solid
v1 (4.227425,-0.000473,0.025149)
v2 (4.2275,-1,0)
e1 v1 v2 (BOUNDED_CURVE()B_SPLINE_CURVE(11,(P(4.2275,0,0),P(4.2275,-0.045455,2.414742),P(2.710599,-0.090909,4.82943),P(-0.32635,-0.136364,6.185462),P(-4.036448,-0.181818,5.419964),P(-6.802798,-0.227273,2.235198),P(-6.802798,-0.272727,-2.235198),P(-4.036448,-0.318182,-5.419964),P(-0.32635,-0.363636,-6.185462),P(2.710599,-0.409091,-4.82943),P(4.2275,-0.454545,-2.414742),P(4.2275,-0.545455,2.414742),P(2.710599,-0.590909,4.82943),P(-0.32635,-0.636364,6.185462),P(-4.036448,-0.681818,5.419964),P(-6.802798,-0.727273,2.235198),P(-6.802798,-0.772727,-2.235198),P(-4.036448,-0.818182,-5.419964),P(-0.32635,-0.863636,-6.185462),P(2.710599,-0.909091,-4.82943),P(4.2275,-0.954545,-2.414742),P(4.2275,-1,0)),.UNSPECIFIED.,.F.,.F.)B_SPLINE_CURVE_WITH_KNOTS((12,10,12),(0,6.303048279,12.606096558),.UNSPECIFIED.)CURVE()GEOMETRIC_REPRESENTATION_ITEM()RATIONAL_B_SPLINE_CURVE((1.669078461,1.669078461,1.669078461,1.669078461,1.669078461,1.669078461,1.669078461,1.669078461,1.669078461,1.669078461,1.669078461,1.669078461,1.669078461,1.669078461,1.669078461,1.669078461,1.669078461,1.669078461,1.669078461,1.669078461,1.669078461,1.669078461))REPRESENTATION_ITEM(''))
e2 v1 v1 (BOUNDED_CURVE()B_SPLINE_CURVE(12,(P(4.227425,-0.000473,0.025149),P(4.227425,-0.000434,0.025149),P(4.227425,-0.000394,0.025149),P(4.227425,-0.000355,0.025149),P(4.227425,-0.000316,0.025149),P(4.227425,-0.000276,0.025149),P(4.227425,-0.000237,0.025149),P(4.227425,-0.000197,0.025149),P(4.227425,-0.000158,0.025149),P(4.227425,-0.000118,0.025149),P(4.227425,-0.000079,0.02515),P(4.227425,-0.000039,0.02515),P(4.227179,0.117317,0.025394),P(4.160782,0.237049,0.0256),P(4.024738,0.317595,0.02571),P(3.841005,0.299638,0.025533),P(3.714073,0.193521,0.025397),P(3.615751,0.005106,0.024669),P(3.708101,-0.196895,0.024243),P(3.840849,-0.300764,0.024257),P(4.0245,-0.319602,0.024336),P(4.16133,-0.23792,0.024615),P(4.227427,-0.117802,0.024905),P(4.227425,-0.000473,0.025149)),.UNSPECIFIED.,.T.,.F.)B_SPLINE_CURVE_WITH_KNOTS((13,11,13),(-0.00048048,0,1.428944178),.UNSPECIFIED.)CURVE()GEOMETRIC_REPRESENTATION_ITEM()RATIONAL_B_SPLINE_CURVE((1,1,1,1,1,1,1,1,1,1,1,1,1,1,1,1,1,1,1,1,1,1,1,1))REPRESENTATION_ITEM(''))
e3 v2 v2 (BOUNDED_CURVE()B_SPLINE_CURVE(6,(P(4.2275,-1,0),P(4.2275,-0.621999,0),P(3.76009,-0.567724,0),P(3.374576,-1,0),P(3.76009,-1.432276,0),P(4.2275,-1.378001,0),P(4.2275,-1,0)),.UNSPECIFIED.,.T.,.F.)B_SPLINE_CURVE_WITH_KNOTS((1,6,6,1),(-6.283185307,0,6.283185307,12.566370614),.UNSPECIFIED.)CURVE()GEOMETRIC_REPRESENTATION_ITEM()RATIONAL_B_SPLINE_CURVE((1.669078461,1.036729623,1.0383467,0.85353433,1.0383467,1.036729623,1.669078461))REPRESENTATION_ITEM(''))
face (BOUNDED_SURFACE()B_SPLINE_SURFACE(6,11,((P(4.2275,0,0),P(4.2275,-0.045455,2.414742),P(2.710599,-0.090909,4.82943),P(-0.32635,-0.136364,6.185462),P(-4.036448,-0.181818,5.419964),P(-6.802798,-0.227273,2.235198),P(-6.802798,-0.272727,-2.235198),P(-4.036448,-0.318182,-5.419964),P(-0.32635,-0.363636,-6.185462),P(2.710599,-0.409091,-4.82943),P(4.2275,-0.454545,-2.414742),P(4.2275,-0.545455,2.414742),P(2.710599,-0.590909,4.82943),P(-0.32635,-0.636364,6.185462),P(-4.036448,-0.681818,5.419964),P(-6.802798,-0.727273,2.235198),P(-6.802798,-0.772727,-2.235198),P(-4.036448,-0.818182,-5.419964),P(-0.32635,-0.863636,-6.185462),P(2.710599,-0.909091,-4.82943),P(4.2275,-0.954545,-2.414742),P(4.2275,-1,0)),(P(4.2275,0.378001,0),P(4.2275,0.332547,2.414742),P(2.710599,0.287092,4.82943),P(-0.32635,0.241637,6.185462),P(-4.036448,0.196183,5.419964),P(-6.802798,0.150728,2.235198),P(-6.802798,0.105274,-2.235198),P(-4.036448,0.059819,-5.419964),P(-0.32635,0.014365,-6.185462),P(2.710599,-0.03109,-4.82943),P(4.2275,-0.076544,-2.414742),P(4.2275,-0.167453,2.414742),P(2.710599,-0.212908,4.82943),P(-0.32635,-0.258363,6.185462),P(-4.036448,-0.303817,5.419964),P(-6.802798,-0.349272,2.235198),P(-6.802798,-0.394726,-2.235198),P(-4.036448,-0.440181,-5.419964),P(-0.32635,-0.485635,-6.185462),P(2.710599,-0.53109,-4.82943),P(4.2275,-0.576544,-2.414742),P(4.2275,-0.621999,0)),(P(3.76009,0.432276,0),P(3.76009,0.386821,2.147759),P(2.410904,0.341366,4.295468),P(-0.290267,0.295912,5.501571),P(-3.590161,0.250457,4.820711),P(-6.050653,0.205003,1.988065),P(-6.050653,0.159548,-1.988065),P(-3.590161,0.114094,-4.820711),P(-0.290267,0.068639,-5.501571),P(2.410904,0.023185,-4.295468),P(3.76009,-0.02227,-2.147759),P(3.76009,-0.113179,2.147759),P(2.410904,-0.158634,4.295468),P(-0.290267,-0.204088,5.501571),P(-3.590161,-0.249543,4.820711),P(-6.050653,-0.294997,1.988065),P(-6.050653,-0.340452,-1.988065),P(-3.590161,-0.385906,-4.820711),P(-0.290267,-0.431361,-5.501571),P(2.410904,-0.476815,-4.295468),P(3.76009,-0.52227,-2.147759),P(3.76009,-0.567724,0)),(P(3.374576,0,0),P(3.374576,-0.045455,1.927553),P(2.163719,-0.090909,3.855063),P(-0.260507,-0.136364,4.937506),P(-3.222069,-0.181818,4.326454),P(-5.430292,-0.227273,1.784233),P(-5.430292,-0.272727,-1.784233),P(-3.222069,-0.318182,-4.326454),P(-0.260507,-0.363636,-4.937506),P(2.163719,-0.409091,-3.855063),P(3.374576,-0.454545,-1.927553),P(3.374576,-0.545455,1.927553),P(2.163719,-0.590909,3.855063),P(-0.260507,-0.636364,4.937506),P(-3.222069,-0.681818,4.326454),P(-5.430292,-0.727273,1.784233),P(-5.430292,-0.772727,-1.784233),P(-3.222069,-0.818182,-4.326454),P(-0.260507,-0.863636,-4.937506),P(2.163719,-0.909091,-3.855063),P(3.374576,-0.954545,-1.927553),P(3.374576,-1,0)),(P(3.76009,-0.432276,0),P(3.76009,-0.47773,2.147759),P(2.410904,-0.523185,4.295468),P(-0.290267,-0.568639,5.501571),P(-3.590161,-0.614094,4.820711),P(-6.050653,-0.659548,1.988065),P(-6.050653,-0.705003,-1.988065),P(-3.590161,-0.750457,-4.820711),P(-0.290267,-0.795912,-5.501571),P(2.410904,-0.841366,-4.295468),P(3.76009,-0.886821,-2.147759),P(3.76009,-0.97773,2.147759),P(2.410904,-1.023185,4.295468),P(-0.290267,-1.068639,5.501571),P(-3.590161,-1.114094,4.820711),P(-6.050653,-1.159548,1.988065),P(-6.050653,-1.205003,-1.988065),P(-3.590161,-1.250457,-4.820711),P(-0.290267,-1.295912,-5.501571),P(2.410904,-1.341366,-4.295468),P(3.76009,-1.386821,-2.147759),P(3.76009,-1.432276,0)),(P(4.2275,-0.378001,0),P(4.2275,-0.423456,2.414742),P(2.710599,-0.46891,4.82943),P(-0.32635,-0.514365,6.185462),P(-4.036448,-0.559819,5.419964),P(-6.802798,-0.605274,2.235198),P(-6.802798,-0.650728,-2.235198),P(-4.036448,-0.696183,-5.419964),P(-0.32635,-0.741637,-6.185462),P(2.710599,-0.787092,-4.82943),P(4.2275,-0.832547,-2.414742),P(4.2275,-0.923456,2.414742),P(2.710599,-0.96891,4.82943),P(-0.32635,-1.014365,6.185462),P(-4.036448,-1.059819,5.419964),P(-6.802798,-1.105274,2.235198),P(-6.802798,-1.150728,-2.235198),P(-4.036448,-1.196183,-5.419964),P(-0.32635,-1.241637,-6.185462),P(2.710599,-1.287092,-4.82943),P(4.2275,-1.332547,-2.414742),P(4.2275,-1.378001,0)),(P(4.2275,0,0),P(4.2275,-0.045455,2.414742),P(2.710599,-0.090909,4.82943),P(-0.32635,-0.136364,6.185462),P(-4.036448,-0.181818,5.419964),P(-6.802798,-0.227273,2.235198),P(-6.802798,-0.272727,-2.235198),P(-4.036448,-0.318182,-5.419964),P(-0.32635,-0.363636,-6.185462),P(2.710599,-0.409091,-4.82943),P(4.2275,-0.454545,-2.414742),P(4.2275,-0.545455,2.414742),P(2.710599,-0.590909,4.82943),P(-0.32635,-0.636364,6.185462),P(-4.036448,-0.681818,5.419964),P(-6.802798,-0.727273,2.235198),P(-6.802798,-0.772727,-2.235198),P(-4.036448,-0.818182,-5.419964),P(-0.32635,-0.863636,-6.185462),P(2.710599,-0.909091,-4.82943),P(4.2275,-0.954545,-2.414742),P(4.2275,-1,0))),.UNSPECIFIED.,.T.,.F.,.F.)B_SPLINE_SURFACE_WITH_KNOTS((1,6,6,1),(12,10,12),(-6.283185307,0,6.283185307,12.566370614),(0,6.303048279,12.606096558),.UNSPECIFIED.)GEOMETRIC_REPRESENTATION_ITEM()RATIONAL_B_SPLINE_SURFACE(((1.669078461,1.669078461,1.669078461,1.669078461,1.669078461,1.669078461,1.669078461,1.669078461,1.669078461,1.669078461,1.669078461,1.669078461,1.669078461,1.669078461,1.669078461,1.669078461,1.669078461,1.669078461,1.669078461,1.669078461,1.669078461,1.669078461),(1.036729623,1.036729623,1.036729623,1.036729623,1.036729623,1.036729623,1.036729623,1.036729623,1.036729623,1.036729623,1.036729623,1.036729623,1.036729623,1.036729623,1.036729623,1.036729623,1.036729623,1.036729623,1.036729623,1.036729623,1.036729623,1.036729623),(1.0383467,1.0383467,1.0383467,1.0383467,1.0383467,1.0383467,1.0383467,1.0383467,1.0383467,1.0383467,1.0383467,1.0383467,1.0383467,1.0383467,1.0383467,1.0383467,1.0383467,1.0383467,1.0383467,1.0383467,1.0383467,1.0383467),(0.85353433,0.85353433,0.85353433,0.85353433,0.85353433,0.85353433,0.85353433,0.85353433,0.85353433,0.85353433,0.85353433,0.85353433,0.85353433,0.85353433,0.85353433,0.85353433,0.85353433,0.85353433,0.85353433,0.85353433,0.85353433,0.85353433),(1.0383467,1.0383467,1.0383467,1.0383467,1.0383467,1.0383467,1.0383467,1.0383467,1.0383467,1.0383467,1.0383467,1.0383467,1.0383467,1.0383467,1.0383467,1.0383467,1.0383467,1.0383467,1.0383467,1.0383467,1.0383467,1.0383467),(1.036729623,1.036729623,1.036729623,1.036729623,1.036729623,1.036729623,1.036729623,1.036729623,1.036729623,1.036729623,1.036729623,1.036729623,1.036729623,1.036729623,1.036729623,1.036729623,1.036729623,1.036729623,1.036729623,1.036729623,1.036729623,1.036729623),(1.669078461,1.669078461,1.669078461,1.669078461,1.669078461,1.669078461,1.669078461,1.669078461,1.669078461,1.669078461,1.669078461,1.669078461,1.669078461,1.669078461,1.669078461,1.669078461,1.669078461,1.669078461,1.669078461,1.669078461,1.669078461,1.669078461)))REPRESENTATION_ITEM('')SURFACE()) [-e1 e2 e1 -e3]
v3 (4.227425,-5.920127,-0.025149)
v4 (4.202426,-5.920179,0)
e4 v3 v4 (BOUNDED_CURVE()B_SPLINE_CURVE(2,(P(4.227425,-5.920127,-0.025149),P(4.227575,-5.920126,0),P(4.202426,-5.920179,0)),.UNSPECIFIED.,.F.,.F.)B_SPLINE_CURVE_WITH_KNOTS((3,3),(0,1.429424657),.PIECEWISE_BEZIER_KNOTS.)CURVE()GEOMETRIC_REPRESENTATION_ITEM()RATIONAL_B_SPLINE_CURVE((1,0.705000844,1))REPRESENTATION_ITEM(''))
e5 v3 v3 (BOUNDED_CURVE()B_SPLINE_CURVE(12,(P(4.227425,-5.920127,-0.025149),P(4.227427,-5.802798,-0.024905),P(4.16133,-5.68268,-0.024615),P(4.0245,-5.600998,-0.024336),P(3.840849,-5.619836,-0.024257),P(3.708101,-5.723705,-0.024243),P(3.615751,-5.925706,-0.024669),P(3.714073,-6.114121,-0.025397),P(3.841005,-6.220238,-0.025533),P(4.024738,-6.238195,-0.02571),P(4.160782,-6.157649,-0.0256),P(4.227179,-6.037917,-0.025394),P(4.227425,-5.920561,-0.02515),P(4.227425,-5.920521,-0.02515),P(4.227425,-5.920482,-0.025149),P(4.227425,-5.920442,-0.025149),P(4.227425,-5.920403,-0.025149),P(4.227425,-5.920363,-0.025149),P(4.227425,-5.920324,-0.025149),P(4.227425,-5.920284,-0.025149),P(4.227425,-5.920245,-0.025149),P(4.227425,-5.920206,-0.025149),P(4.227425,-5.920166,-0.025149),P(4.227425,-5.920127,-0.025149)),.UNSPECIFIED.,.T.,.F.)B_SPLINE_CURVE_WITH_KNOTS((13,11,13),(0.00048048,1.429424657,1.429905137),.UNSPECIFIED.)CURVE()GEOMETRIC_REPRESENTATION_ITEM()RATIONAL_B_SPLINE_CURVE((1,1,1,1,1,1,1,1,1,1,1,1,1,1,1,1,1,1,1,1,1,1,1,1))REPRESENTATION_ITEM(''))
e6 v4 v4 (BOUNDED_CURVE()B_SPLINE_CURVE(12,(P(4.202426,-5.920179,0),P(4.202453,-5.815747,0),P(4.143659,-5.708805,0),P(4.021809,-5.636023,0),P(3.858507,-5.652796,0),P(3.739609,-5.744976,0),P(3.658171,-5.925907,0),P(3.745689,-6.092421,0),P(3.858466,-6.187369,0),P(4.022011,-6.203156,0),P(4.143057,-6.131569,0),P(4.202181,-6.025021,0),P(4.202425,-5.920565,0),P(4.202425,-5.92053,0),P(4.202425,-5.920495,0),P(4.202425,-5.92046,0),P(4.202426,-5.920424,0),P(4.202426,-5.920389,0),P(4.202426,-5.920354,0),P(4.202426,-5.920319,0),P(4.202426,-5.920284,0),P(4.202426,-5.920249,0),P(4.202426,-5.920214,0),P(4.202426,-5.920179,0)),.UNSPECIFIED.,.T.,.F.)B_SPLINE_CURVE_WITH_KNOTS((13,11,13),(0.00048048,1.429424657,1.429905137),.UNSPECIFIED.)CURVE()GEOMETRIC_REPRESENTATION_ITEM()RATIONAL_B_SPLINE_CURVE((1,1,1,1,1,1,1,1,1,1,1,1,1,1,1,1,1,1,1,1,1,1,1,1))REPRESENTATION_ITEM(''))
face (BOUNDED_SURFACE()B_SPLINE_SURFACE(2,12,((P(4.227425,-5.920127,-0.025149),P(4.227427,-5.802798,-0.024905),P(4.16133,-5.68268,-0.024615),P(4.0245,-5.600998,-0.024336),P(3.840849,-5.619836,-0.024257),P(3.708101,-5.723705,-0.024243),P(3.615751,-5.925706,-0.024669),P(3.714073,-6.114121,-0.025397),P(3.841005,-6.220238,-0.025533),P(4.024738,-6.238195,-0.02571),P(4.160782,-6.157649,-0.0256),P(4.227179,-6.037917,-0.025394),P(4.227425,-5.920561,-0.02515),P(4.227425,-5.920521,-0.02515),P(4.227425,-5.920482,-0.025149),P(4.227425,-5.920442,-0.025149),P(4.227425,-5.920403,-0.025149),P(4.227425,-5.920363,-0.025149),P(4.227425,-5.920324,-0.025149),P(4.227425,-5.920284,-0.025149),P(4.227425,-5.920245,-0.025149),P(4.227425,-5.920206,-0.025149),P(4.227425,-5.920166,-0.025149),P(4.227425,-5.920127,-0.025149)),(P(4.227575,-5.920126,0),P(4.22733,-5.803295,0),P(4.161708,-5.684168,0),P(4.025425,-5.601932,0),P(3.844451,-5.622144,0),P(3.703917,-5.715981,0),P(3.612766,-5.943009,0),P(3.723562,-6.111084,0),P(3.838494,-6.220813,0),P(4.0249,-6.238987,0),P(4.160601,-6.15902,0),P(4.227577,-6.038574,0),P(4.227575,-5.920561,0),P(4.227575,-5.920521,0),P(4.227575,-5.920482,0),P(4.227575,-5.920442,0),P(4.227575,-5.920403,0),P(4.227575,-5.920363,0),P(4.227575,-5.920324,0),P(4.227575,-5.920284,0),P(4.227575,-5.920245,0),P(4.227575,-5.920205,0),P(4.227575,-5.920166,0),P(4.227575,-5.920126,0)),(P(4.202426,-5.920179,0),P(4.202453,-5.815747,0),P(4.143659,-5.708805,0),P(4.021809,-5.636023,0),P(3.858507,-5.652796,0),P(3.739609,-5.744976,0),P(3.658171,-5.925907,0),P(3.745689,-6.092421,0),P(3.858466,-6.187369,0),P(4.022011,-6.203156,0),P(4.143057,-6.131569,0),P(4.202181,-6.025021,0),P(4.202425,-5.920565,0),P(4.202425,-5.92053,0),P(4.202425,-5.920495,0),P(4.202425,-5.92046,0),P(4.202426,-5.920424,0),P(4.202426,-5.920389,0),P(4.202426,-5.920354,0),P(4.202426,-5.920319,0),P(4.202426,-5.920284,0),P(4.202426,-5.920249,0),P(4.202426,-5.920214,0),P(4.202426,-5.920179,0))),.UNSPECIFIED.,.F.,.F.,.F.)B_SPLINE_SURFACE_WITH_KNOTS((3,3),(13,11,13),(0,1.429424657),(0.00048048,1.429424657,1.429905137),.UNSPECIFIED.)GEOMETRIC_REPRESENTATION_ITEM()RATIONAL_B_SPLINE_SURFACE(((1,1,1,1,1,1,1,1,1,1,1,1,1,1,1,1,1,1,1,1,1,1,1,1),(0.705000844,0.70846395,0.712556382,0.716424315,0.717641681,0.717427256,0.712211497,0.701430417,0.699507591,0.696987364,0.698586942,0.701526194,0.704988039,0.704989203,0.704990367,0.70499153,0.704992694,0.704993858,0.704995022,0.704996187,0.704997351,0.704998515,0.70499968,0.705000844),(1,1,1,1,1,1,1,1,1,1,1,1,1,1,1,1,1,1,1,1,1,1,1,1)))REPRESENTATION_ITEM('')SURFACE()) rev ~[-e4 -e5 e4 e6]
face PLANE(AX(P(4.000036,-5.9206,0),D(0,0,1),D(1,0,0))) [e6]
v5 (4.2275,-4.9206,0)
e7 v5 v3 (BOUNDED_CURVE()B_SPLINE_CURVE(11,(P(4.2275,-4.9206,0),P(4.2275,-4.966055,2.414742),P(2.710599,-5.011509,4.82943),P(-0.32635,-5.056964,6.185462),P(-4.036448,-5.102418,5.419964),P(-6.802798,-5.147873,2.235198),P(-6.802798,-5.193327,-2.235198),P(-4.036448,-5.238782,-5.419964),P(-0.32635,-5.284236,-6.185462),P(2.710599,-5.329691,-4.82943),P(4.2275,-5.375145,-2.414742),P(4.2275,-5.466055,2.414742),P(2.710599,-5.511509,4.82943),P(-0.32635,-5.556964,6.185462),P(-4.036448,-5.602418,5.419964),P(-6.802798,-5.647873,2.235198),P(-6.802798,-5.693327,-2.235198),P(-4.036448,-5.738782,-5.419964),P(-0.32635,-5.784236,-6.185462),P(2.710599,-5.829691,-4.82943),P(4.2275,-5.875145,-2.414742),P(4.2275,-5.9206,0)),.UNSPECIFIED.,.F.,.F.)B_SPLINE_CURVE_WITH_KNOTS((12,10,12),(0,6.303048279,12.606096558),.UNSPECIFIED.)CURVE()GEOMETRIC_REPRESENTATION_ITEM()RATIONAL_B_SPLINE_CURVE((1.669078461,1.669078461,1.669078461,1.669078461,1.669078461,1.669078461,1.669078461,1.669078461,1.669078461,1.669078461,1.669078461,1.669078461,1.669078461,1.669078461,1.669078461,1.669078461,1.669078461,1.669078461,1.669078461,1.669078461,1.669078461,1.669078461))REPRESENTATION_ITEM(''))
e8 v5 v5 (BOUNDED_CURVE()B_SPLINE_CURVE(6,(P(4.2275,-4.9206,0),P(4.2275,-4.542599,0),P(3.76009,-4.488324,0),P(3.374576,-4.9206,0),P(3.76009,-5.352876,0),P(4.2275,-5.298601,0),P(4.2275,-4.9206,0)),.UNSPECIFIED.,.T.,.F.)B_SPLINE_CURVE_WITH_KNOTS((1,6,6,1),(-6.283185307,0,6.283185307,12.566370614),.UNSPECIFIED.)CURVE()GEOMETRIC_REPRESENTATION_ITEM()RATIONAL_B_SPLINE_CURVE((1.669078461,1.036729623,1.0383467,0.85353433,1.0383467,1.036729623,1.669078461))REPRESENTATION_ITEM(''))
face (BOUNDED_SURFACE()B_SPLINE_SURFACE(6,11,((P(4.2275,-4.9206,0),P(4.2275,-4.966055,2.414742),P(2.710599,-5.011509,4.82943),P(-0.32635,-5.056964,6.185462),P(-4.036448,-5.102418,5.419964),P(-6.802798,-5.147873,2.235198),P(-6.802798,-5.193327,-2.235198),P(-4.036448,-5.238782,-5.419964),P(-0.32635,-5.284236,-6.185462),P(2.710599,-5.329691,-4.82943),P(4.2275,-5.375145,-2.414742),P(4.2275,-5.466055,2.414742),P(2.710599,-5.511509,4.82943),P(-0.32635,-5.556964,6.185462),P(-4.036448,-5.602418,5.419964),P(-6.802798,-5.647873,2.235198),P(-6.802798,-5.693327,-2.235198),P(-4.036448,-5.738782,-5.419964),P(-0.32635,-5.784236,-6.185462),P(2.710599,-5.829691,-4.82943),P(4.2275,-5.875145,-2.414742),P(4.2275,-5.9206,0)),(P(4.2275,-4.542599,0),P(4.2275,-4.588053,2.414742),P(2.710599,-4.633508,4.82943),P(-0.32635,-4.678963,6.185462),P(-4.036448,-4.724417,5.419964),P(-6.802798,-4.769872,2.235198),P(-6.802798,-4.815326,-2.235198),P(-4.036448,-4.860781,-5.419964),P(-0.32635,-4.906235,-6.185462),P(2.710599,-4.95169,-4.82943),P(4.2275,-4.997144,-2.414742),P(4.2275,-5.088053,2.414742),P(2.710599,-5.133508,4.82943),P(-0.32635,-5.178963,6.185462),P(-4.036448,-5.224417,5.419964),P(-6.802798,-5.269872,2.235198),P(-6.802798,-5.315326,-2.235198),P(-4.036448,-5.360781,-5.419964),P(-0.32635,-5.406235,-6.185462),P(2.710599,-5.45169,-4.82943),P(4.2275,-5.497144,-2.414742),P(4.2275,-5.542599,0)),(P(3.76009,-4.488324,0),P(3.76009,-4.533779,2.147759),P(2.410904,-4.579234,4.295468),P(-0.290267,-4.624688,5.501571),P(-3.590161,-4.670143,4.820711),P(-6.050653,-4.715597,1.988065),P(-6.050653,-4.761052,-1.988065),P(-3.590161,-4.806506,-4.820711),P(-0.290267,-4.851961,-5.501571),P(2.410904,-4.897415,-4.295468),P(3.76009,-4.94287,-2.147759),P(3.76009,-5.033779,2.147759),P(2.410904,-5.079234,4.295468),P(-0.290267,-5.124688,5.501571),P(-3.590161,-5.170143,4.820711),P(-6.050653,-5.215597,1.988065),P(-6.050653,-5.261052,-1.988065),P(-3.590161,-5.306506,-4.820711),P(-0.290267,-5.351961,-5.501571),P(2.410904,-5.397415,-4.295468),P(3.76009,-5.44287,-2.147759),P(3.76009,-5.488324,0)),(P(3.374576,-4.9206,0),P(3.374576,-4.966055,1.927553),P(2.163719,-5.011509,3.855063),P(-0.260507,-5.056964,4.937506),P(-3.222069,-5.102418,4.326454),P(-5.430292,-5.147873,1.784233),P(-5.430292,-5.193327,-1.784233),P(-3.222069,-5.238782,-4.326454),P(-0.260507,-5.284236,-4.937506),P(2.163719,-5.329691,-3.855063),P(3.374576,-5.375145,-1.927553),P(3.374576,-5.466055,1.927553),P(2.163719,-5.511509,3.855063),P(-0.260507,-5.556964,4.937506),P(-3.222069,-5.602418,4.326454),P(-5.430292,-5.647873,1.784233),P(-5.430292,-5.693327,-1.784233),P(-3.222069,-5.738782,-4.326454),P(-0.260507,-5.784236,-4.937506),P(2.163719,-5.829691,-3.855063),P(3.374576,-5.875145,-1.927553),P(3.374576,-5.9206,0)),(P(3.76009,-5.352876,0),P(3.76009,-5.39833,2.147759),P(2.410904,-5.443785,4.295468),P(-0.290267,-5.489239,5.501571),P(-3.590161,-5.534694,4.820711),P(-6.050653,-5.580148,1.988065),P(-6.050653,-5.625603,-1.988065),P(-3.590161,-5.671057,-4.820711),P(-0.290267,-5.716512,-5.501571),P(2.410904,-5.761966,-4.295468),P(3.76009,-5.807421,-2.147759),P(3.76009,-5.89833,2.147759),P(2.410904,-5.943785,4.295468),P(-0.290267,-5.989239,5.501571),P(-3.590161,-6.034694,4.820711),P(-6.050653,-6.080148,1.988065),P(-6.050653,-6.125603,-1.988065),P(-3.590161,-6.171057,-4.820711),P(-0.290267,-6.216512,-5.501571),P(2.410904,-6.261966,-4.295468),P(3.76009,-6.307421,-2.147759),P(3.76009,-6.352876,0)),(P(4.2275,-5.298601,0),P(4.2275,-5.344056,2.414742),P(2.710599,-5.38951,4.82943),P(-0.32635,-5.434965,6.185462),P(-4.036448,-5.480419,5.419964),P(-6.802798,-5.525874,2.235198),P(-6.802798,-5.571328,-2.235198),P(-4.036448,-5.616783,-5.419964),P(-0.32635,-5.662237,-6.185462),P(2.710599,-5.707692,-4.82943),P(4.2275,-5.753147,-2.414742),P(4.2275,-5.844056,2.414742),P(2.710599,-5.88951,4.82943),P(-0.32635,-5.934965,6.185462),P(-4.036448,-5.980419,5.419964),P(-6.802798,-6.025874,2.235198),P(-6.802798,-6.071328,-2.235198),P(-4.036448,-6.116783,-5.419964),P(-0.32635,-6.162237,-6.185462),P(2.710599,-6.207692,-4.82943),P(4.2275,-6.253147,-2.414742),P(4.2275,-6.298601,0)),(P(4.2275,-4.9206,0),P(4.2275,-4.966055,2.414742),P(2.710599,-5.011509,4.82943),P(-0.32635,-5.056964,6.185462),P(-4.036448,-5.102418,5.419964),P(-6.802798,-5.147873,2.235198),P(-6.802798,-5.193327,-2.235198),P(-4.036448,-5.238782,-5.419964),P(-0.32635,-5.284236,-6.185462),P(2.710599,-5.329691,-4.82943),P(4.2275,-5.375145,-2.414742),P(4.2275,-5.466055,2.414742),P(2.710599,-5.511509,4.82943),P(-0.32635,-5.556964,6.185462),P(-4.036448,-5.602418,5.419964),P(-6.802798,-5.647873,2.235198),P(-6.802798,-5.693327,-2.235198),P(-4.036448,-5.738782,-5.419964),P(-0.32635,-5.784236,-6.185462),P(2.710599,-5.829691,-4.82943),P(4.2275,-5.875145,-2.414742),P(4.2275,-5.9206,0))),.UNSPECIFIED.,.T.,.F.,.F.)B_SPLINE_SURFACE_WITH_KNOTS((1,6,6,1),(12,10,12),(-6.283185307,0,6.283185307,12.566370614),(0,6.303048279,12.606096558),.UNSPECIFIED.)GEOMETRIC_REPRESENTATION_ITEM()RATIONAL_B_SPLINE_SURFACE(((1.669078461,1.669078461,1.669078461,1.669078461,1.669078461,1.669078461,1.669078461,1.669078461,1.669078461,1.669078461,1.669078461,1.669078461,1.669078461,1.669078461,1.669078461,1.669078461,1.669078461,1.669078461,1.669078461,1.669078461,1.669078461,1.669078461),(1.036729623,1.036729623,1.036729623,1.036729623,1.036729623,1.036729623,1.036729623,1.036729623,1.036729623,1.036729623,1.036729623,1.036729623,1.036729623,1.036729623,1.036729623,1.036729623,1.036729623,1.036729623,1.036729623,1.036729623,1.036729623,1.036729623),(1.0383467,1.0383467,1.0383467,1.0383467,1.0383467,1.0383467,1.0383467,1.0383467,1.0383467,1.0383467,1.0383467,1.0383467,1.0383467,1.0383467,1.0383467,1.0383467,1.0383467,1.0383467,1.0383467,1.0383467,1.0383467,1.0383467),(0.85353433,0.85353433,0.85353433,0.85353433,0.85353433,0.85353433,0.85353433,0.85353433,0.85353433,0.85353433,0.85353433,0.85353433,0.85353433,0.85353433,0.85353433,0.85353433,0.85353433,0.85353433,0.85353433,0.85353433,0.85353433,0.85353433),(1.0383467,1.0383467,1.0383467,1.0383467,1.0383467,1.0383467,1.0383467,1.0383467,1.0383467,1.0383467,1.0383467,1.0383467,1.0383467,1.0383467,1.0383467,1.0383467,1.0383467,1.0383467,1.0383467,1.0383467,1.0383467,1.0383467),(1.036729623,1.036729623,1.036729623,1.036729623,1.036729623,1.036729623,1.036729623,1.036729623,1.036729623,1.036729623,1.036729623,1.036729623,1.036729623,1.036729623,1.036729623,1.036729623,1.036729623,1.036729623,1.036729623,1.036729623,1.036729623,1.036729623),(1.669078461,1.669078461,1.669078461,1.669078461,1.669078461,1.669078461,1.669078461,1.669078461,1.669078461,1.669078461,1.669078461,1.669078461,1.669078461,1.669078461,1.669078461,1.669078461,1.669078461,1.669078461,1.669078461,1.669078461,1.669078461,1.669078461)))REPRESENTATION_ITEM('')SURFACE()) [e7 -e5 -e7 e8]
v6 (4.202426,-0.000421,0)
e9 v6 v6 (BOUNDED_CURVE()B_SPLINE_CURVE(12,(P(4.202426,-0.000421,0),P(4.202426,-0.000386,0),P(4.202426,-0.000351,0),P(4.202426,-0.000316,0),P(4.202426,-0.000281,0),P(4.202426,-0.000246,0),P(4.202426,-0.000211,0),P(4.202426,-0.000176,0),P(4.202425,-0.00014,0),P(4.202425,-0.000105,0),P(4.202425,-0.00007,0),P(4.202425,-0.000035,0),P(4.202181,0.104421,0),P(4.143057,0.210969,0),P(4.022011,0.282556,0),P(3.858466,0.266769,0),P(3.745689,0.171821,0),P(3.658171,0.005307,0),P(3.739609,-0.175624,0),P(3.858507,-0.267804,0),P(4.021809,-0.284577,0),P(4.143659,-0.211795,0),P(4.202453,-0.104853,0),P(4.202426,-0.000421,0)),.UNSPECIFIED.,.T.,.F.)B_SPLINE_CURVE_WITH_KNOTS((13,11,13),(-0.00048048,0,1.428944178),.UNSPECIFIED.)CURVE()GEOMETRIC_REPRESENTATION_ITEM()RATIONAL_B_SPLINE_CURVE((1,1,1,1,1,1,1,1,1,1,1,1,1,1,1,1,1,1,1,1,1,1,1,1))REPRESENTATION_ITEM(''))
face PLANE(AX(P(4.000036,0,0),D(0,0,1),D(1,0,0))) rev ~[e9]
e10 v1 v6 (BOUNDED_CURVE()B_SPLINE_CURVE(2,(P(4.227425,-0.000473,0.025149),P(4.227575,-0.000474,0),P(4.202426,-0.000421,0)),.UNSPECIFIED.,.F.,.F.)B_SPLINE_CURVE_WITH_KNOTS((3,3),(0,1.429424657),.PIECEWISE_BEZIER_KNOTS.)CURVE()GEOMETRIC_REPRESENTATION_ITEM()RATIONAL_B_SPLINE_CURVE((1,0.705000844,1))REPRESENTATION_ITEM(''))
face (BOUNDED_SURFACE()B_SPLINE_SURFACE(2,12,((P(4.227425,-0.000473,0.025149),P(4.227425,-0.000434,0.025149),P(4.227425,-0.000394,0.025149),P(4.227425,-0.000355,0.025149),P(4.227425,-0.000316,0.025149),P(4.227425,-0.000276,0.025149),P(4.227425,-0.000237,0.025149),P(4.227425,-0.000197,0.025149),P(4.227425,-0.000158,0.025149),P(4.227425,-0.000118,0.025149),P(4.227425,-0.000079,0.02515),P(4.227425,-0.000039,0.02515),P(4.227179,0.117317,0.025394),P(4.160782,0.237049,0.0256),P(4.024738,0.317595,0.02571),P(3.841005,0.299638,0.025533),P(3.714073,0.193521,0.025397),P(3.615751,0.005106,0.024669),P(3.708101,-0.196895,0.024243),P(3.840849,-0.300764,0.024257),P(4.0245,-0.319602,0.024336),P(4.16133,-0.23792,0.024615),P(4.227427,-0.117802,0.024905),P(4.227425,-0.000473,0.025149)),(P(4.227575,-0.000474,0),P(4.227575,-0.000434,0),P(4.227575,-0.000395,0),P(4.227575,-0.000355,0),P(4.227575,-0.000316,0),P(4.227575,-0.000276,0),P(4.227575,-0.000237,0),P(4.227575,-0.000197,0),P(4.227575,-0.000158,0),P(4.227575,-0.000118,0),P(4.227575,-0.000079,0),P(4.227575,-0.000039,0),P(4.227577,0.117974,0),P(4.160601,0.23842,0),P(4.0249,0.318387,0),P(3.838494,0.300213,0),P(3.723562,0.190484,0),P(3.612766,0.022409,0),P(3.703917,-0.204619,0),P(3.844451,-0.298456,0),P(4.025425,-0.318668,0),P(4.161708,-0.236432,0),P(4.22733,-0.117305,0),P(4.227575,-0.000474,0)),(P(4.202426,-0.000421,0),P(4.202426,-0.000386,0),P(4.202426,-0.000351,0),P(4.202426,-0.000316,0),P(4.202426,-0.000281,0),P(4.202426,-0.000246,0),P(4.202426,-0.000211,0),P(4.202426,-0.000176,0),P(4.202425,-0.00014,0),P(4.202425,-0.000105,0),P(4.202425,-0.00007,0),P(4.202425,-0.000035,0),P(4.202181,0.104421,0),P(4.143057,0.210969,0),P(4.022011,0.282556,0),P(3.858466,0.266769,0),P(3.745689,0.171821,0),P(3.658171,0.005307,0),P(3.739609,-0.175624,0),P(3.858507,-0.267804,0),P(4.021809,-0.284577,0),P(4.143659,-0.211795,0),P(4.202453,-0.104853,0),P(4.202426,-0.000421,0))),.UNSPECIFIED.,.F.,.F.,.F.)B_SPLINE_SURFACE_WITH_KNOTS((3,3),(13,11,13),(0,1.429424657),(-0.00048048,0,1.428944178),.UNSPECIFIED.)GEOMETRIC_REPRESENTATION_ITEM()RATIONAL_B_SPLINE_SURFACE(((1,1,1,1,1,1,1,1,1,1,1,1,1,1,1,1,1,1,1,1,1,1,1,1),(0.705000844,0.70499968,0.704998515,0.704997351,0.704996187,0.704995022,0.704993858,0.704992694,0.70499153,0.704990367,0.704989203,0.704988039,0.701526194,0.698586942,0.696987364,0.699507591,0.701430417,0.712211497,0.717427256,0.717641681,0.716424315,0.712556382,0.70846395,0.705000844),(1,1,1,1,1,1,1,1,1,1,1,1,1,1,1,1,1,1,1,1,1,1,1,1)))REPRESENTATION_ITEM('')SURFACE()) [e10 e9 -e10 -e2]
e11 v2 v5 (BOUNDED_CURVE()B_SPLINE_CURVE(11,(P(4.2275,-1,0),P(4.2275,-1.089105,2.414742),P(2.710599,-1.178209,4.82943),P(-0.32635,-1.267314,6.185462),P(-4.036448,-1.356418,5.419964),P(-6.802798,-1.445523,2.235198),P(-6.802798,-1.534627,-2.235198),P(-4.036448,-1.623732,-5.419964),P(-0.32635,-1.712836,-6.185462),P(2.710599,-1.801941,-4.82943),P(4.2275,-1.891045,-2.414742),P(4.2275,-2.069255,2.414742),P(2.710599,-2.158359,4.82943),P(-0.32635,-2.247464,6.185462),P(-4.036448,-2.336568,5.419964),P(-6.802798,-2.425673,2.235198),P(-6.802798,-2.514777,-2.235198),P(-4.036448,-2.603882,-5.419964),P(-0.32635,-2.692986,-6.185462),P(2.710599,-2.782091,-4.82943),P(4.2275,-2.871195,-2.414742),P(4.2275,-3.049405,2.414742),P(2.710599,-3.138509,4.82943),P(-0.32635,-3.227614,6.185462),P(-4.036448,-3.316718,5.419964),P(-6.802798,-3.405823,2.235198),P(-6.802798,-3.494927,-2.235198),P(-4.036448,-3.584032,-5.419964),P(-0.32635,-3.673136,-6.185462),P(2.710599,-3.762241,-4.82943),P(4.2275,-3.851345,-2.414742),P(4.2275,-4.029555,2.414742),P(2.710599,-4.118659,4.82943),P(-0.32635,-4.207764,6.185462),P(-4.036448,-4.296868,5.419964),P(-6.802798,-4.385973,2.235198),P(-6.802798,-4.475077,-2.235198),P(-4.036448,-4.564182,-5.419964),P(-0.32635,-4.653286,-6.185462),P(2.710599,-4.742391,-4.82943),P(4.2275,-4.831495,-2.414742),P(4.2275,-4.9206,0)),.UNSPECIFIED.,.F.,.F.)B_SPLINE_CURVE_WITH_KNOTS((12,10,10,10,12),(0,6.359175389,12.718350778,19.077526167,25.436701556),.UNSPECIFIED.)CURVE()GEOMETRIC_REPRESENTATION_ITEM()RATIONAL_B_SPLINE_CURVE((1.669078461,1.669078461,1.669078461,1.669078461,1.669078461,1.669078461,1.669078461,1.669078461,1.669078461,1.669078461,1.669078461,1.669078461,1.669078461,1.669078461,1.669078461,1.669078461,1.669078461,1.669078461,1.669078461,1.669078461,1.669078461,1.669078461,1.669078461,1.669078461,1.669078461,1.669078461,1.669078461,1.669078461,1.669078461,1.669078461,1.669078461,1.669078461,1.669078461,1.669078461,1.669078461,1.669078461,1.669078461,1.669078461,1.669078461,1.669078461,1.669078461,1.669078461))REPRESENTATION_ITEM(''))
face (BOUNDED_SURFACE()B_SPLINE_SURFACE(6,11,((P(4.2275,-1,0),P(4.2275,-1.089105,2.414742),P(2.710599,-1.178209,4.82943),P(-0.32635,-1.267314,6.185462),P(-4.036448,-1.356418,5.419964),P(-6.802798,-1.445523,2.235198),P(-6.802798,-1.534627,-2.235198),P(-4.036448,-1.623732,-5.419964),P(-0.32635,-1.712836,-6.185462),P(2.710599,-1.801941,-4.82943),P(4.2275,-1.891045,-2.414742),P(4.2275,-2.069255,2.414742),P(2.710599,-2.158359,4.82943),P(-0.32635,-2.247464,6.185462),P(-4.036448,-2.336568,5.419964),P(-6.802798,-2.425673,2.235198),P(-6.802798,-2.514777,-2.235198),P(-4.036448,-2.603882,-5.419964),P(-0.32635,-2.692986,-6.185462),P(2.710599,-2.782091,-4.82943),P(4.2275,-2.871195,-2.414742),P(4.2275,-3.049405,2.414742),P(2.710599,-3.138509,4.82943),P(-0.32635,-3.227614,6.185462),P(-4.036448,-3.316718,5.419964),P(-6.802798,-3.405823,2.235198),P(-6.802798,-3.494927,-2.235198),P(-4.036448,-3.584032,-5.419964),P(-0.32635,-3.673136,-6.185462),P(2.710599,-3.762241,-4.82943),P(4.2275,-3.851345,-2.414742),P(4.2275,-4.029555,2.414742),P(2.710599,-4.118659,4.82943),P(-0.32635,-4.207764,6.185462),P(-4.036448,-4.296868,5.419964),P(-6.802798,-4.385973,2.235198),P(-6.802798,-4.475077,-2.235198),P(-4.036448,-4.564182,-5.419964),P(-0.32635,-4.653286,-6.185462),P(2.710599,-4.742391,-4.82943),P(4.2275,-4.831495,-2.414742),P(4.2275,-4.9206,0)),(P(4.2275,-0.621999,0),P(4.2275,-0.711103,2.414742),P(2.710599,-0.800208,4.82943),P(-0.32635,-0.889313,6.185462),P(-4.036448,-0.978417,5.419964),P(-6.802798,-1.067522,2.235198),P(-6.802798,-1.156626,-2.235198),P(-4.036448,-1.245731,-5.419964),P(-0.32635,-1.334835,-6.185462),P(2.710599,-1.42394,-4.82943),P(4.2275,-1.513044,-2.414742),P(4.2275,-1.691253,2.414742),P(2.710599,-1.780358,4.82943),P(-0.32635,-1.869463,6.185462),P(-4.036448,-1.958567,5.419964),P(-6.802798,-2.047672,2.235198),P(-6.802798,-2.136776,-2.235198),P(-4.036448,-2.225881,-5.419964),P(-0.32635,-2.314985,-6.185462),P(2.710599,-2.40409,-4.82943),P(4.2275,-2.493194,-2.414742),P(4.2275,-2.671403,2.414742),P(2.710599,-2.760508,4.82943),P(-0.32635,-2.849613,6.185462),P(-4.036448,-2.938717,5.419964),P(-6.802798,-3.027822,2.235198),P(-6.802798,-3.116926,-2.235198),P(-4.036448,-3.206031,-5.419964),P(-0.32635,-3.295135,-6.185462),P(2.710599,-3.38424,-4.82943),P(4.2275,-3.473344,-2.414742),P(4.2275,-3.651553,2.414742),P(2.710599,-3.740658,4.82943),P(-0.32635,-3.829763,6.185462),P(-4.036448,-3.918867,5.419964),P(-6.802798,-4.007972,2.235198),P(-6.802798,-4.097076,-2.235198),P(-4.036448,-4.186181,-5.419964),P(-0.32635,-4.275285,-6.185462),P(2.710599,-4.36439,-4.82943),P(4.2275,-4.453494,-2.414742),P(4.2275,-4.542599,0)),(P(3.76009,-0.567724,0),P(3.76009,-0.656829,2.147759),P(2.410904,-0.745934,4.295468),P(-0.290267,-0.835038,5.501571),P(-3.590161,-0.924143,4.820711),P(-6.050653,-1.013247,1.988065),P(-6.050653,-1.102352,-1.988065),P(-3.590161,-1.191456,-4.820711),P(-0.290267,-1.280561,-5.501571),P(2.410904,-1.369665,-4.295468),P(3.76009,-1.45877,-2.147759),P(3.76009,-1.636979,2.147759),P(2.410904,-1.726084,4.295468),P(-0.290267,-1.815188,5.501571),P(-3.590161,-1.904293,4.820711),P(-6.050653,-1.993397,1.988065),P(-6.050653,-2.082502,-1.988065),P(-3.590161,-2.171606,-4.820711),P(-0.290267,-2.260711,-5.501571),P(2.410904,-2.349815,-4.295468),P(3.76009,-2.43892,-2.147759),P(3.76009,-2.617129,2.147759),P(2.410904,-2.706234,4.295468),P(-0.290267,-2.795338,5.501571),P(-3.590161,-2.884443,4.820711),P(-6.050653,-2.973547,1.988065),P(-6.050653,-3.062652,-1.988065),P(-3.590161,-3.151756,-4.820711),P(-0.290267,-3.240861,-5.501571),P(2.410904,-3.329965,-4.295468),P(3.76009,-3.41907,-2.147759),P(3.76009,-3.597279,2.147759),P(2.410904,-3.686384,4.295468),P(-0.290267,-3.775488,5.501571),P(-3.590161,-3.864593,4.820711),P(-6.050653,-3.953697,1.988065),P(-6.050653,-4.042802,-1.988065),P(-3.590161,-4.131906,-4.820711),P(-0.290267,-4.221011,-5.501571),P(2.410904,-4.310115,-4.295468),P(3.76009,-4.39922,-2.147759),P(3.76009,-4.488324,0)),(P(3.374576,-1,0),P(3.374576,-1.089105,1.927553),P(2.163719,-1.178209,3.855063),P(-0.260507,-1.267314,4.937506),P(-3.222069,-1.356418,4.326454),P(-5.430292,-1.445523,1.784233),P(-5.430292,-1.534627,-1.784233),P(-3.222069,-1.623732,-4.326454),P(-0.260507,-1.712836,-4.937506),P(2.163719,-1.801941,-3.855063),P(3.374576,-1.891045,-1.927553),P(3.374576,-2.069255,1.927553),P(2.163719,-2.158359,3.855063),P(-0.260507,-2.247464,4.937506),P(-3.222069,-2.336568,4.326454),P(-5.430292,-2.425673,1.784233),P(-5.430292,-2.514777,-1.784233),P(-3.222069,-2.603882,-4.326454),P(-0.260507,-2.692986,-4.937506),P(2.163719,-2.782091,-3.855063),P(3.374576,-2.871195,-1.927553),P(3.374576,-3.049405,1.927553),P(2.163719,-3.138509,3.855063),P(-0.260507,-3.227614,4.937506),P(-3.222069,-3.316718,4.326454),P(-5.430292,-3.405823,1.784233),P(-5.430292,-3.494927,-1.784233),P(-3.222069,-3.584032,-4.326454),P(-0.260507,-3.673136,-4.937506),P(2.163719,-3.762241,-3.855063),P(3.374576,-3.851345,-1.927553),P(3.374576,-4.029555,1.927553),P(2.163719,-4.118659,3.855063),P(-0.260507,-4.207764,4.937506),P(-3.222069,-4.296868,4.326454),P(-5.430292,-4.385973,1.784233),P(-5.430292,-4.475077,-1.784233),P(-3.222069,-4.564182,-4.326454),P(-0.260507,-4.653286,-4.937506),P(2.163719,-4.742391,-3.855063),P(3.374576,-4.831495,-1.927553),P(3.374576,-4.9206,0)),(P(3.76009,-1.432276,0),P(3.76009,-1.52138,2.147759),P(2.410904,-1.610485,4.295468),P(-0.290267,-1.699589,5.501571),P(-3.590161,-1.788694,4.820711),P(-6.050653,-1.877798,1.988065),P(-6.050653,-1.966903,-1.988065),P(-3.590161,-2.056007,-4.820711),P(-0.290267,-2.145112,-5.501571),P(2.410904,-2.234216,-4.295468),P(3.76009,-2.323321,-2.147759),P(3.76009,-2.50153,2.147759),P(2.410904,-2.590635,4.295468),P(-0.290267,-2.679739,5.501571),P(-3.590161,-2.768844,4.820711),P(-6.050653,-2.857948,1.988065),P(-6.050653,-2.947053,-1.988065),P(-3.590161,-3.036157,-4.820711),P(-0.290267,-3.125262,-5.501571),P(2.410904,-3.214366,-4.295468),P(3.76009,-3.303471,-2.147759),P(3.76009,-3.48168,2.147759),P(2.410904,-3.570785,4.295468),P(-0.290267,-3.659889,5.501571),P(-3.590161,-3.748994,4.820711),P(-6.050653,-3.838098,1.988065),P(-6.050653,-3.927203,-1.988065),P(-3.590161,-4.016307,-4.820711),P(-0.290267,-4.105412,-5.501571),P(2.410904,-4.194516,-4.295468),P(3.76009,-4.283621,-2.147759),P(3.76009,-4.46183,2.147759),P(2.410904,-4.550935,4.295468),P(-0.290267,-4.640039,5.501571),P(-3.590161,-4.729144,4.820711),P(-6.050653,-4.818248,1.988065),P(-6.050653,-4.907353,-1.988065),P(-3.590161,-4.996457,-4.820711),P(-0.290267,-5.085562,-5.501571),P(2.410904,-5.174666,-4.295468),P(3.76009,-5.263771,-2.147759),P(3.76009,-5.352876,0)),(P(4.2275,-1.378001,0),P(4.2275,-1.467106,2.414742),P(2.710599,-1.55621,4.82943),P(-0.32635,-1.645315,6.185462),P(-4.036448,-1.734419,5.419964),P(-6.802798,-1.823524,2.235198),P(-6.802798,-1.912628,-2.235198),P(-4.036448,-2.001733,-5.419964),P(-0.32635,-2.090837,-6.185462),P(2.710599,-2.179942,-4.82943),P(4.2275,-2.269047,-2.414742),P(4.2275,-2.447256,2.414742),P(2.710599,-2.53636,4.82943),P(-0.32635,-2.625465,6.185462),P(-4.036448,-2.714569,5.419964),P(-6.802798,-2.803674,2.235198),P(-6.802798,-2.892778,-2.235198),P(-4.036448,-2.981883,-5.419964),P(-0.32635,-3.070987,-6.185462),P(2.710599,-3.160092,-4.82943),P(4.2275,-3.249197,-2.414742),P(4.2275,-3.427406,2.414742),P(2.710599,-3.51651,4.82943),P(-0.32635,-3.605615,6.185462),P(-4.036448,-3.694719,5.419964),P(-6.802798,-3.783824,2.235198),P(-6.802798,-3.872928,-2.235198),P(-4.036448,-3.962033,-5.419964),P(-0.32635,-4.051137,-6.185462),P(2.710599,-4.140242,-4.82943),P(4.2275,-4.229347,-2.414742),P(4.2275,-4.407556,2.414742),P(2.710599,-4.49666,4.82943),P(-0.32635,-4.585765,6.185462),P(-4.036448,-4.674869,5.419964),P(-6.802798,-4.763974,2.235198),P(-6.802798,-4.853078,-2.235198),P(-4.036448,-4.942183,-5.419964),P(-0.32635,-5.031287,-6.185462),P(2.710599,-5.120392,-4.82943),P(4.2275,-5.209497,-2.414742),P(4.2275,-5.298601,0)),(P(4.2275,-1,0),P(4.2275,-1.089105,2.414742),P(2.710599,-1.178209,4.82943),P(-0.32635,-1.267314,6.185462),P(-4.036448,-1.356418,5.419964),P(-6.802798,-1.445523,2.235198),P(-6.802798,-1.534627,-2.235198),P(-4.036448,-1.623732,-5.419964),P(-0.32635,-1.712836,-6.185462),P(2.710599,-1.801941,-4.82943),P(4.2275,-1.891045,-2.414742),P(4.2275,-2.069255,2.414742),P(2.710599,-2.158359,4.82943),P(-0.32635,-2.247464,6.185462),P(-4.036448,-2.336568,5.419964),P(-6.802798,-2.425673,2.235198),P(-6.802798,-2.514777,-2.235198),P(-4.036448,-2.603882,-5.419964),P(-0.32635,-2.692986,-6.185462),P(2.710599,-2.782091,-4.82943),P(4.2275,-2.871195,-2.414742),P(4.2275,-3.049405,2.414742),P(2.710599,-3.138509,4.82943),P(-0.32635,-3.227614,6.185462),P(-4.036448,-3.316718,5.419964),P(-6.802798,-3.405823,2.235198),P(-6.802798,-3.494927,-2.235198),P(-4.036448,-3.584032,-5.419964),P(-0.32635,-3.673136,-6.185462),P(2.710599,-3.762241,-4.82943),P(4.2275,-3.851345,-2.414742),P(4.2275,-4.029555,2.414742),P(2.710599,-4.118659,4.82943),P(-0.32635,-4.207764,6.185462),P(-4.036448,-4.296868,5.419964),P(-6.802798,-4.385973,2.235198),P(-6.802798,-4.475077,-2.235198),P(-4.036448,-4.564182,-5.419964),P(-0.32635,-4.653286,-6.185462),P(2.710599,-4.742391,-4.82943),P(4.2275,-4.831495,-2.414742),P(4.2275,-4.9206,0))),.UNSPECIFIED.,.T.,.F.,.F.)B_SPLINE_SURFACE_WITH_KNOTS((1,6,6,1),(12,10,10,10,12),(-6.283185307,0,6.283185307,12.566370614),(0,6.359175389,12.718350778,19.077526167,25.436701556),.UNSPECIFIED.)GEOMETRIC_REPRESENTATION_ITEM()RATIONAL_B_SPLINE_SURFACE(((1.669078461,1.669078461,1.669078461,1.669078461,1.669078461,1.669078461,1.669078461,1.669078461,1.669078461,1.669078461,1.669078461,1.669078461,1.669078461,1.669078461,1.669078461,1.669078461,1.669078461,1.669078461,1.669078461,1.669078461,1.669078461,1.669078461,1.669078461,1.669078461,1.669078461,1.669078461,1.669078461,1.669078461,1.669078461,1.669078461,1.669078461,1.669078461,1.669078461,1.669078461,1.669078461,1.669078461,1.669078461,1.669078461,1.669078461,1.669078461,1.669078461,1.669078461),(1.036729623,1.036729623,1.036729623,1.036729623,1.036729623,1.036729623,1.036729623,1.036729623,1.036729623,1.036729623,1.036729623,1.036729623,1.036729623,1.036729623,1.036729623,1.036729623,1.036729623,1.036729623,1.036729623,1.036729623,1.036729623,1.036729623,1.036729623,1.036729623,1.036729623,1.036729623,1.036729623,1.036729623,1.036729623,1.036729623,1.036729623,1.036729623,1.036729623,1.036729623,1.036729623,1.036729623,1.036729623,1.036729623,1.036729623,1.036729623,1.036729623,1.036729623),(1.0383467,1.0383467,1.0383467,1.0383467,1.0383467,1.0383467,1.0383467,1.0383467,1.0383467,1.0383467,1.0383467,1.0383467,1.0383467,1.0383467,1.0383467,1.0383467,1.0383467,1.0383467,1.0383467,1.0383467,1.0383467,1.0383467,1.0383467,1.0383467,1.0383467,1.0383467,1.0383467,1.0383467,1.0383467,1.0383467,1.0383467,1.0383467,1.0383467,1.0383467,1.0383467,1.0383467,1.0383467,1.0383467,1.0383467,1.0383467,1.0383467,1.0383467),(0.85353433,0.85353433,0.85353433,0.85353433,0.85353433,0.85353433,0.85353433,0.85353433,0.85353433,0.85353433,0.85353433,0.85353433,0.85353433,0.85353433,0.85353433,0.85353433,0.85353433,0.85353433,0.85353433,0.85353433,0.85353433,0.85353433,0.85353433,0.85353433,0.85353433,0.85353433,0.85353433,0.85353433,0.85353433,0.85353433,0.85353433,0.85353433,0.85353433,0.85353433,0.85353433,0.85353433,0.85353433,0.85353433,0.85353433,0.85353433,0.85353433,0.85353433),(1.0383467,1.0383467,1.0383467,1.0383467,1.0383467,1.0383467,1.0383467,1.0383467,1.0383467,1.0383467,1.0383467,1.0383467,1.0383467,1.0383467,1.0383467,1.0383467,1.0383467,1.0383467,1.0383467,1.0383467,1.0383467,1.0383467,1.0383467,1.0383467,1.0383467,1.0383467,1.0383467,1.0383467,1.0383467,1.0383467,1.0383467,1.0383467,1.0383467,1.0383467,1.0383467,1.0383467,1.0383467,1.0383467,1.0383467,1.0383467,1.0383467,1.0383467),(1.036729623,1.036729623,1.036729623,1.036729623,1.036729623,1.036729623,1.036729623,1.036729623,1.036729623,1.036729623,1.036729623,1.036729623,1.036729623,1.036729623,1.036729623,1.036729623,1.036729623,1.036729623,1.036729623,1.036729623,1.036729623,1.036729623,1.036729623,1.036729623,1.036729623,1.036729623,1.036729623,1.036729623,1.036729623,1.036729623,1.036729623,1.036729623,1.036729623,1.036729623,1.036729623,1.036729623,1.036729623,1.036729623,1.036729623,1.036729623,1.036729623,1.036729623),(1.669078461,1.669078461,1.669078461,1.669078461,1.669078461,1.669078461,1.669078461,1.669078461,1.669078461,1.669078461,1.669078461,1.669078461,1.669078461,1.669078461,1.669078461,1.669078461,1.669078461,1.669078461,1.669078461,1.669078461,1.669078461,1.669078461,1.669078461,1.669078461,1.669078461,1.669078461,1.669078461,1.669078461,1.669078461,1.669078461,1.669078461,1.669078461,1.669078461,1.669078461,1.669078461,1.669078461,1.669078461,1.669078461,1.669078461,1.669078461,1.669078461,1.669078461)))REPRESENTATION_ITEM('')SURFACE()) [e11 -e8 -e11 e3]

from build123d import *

# Parameters (mm, degrees)
SWEEP1_PITCH       = 0.5
SWEEP1_HEIGHT      = 1
SWEEP1_RADIUS      = 4
SWEEP1_START_ANGLE = 90
SKETCH14_R         = 0.2275
SWEEP2_PITCH       = 0.98015
SWEEP2_HEIGHT      = 3.9206
SWEEP2_RADIUS      = 4
SWEEP2_START_ANGLE = 90
SKETCH16_R         = 0.2275
SWEEP3_PITCH       = 0.5
SWEEP3_HEIGHT      = 1
SWEEP3_RADIUS      = 4
SWEEP3_START_ANGLE = 90
SKETCH17_R         = 0.2275
FILLET2_R          = 0.025
FILLET3_R          = 0.025


with BuildPart() as part:
    # Sweep1: sweep along a helix
    with BuildLine() as sweep1_path:
        add(Helix(SWEEP1_PITCH, SWEEP1_HEIGHT, SWEEP1_RADIUS, center=(0, 0, 0), direction=(0, -1, 0), mode=Mode.PRIVATE).rotate(Axis((0, 0, 0), (0, -1, 0)), SWEEP1_START_ANGLE))
    # Sketch14 → Sweep1 (sweep)
    with BuildSketch(Plane.XY):
        with Locations((4, 0)):
            Circle(SKETCH14_R)
    sweep(path=sweep1_path.line, is_frenet=True)

    # Sweep2: sweep along a helix
    with BuildLine() as sweep2_path:
        add(Helix(SWEEP2_PITCH, SWEEP2_HEIGHT, SWEEP2_RADIUS, center=(0, -1, 0), direction=(0, -1, 0), mode=Mode.PRIVATE).rotate(Axis((0, -1, 0), (0, -1, 0)), SWEEP2_START_ANGLE))
    # Sketch16 → Sweep2 (sweep)
    with BuildSketch(Plane.XY):
        with Locations((4, -1)):
            Circle(SKETCH16_R)
    sweep(path=sweep2_path.line, is_frenet=True)

    # Sweep3: sweep along a helix
    with BuildLine() as sweep3_path:
        add(Helix(SWEEP3_PITCH, SWEEP3_HEIGHT, SWEEP3_RADIUS, center=(0, -4.9206, 0), direction=(0, -1, 0), mode=Mode.PRIVATE).rotate(Axis((0, -4.9206, 0), (0, -1, 0)), SWEEP3_START_ANGLE))
    # Sketch17 → Sweep3 (sweep)
    with BuildSketch(Plane.XY):
        with Locations((4, -4.9206)):
            Circle(SKETCH17_R)
    sweep(path=sweep3_path.line, is_frenet=True)

    # Fillet2
    fillet2_edges = [part.edges().sort_by_distance(p)[0] for p in [
        (3.7725, -5.9206, 0),
    ]]
    fillet(fillet2_edges, radius=FILLET2_R)

    # Fillet3
    fillet3_edges = [part.edges().sort_by_distance(p)[0] for p in [
        (3.7725, 0, 0),
    ]]
    fillet(fillet3_edges, radius=FILLET3_R)


solid = part.part
